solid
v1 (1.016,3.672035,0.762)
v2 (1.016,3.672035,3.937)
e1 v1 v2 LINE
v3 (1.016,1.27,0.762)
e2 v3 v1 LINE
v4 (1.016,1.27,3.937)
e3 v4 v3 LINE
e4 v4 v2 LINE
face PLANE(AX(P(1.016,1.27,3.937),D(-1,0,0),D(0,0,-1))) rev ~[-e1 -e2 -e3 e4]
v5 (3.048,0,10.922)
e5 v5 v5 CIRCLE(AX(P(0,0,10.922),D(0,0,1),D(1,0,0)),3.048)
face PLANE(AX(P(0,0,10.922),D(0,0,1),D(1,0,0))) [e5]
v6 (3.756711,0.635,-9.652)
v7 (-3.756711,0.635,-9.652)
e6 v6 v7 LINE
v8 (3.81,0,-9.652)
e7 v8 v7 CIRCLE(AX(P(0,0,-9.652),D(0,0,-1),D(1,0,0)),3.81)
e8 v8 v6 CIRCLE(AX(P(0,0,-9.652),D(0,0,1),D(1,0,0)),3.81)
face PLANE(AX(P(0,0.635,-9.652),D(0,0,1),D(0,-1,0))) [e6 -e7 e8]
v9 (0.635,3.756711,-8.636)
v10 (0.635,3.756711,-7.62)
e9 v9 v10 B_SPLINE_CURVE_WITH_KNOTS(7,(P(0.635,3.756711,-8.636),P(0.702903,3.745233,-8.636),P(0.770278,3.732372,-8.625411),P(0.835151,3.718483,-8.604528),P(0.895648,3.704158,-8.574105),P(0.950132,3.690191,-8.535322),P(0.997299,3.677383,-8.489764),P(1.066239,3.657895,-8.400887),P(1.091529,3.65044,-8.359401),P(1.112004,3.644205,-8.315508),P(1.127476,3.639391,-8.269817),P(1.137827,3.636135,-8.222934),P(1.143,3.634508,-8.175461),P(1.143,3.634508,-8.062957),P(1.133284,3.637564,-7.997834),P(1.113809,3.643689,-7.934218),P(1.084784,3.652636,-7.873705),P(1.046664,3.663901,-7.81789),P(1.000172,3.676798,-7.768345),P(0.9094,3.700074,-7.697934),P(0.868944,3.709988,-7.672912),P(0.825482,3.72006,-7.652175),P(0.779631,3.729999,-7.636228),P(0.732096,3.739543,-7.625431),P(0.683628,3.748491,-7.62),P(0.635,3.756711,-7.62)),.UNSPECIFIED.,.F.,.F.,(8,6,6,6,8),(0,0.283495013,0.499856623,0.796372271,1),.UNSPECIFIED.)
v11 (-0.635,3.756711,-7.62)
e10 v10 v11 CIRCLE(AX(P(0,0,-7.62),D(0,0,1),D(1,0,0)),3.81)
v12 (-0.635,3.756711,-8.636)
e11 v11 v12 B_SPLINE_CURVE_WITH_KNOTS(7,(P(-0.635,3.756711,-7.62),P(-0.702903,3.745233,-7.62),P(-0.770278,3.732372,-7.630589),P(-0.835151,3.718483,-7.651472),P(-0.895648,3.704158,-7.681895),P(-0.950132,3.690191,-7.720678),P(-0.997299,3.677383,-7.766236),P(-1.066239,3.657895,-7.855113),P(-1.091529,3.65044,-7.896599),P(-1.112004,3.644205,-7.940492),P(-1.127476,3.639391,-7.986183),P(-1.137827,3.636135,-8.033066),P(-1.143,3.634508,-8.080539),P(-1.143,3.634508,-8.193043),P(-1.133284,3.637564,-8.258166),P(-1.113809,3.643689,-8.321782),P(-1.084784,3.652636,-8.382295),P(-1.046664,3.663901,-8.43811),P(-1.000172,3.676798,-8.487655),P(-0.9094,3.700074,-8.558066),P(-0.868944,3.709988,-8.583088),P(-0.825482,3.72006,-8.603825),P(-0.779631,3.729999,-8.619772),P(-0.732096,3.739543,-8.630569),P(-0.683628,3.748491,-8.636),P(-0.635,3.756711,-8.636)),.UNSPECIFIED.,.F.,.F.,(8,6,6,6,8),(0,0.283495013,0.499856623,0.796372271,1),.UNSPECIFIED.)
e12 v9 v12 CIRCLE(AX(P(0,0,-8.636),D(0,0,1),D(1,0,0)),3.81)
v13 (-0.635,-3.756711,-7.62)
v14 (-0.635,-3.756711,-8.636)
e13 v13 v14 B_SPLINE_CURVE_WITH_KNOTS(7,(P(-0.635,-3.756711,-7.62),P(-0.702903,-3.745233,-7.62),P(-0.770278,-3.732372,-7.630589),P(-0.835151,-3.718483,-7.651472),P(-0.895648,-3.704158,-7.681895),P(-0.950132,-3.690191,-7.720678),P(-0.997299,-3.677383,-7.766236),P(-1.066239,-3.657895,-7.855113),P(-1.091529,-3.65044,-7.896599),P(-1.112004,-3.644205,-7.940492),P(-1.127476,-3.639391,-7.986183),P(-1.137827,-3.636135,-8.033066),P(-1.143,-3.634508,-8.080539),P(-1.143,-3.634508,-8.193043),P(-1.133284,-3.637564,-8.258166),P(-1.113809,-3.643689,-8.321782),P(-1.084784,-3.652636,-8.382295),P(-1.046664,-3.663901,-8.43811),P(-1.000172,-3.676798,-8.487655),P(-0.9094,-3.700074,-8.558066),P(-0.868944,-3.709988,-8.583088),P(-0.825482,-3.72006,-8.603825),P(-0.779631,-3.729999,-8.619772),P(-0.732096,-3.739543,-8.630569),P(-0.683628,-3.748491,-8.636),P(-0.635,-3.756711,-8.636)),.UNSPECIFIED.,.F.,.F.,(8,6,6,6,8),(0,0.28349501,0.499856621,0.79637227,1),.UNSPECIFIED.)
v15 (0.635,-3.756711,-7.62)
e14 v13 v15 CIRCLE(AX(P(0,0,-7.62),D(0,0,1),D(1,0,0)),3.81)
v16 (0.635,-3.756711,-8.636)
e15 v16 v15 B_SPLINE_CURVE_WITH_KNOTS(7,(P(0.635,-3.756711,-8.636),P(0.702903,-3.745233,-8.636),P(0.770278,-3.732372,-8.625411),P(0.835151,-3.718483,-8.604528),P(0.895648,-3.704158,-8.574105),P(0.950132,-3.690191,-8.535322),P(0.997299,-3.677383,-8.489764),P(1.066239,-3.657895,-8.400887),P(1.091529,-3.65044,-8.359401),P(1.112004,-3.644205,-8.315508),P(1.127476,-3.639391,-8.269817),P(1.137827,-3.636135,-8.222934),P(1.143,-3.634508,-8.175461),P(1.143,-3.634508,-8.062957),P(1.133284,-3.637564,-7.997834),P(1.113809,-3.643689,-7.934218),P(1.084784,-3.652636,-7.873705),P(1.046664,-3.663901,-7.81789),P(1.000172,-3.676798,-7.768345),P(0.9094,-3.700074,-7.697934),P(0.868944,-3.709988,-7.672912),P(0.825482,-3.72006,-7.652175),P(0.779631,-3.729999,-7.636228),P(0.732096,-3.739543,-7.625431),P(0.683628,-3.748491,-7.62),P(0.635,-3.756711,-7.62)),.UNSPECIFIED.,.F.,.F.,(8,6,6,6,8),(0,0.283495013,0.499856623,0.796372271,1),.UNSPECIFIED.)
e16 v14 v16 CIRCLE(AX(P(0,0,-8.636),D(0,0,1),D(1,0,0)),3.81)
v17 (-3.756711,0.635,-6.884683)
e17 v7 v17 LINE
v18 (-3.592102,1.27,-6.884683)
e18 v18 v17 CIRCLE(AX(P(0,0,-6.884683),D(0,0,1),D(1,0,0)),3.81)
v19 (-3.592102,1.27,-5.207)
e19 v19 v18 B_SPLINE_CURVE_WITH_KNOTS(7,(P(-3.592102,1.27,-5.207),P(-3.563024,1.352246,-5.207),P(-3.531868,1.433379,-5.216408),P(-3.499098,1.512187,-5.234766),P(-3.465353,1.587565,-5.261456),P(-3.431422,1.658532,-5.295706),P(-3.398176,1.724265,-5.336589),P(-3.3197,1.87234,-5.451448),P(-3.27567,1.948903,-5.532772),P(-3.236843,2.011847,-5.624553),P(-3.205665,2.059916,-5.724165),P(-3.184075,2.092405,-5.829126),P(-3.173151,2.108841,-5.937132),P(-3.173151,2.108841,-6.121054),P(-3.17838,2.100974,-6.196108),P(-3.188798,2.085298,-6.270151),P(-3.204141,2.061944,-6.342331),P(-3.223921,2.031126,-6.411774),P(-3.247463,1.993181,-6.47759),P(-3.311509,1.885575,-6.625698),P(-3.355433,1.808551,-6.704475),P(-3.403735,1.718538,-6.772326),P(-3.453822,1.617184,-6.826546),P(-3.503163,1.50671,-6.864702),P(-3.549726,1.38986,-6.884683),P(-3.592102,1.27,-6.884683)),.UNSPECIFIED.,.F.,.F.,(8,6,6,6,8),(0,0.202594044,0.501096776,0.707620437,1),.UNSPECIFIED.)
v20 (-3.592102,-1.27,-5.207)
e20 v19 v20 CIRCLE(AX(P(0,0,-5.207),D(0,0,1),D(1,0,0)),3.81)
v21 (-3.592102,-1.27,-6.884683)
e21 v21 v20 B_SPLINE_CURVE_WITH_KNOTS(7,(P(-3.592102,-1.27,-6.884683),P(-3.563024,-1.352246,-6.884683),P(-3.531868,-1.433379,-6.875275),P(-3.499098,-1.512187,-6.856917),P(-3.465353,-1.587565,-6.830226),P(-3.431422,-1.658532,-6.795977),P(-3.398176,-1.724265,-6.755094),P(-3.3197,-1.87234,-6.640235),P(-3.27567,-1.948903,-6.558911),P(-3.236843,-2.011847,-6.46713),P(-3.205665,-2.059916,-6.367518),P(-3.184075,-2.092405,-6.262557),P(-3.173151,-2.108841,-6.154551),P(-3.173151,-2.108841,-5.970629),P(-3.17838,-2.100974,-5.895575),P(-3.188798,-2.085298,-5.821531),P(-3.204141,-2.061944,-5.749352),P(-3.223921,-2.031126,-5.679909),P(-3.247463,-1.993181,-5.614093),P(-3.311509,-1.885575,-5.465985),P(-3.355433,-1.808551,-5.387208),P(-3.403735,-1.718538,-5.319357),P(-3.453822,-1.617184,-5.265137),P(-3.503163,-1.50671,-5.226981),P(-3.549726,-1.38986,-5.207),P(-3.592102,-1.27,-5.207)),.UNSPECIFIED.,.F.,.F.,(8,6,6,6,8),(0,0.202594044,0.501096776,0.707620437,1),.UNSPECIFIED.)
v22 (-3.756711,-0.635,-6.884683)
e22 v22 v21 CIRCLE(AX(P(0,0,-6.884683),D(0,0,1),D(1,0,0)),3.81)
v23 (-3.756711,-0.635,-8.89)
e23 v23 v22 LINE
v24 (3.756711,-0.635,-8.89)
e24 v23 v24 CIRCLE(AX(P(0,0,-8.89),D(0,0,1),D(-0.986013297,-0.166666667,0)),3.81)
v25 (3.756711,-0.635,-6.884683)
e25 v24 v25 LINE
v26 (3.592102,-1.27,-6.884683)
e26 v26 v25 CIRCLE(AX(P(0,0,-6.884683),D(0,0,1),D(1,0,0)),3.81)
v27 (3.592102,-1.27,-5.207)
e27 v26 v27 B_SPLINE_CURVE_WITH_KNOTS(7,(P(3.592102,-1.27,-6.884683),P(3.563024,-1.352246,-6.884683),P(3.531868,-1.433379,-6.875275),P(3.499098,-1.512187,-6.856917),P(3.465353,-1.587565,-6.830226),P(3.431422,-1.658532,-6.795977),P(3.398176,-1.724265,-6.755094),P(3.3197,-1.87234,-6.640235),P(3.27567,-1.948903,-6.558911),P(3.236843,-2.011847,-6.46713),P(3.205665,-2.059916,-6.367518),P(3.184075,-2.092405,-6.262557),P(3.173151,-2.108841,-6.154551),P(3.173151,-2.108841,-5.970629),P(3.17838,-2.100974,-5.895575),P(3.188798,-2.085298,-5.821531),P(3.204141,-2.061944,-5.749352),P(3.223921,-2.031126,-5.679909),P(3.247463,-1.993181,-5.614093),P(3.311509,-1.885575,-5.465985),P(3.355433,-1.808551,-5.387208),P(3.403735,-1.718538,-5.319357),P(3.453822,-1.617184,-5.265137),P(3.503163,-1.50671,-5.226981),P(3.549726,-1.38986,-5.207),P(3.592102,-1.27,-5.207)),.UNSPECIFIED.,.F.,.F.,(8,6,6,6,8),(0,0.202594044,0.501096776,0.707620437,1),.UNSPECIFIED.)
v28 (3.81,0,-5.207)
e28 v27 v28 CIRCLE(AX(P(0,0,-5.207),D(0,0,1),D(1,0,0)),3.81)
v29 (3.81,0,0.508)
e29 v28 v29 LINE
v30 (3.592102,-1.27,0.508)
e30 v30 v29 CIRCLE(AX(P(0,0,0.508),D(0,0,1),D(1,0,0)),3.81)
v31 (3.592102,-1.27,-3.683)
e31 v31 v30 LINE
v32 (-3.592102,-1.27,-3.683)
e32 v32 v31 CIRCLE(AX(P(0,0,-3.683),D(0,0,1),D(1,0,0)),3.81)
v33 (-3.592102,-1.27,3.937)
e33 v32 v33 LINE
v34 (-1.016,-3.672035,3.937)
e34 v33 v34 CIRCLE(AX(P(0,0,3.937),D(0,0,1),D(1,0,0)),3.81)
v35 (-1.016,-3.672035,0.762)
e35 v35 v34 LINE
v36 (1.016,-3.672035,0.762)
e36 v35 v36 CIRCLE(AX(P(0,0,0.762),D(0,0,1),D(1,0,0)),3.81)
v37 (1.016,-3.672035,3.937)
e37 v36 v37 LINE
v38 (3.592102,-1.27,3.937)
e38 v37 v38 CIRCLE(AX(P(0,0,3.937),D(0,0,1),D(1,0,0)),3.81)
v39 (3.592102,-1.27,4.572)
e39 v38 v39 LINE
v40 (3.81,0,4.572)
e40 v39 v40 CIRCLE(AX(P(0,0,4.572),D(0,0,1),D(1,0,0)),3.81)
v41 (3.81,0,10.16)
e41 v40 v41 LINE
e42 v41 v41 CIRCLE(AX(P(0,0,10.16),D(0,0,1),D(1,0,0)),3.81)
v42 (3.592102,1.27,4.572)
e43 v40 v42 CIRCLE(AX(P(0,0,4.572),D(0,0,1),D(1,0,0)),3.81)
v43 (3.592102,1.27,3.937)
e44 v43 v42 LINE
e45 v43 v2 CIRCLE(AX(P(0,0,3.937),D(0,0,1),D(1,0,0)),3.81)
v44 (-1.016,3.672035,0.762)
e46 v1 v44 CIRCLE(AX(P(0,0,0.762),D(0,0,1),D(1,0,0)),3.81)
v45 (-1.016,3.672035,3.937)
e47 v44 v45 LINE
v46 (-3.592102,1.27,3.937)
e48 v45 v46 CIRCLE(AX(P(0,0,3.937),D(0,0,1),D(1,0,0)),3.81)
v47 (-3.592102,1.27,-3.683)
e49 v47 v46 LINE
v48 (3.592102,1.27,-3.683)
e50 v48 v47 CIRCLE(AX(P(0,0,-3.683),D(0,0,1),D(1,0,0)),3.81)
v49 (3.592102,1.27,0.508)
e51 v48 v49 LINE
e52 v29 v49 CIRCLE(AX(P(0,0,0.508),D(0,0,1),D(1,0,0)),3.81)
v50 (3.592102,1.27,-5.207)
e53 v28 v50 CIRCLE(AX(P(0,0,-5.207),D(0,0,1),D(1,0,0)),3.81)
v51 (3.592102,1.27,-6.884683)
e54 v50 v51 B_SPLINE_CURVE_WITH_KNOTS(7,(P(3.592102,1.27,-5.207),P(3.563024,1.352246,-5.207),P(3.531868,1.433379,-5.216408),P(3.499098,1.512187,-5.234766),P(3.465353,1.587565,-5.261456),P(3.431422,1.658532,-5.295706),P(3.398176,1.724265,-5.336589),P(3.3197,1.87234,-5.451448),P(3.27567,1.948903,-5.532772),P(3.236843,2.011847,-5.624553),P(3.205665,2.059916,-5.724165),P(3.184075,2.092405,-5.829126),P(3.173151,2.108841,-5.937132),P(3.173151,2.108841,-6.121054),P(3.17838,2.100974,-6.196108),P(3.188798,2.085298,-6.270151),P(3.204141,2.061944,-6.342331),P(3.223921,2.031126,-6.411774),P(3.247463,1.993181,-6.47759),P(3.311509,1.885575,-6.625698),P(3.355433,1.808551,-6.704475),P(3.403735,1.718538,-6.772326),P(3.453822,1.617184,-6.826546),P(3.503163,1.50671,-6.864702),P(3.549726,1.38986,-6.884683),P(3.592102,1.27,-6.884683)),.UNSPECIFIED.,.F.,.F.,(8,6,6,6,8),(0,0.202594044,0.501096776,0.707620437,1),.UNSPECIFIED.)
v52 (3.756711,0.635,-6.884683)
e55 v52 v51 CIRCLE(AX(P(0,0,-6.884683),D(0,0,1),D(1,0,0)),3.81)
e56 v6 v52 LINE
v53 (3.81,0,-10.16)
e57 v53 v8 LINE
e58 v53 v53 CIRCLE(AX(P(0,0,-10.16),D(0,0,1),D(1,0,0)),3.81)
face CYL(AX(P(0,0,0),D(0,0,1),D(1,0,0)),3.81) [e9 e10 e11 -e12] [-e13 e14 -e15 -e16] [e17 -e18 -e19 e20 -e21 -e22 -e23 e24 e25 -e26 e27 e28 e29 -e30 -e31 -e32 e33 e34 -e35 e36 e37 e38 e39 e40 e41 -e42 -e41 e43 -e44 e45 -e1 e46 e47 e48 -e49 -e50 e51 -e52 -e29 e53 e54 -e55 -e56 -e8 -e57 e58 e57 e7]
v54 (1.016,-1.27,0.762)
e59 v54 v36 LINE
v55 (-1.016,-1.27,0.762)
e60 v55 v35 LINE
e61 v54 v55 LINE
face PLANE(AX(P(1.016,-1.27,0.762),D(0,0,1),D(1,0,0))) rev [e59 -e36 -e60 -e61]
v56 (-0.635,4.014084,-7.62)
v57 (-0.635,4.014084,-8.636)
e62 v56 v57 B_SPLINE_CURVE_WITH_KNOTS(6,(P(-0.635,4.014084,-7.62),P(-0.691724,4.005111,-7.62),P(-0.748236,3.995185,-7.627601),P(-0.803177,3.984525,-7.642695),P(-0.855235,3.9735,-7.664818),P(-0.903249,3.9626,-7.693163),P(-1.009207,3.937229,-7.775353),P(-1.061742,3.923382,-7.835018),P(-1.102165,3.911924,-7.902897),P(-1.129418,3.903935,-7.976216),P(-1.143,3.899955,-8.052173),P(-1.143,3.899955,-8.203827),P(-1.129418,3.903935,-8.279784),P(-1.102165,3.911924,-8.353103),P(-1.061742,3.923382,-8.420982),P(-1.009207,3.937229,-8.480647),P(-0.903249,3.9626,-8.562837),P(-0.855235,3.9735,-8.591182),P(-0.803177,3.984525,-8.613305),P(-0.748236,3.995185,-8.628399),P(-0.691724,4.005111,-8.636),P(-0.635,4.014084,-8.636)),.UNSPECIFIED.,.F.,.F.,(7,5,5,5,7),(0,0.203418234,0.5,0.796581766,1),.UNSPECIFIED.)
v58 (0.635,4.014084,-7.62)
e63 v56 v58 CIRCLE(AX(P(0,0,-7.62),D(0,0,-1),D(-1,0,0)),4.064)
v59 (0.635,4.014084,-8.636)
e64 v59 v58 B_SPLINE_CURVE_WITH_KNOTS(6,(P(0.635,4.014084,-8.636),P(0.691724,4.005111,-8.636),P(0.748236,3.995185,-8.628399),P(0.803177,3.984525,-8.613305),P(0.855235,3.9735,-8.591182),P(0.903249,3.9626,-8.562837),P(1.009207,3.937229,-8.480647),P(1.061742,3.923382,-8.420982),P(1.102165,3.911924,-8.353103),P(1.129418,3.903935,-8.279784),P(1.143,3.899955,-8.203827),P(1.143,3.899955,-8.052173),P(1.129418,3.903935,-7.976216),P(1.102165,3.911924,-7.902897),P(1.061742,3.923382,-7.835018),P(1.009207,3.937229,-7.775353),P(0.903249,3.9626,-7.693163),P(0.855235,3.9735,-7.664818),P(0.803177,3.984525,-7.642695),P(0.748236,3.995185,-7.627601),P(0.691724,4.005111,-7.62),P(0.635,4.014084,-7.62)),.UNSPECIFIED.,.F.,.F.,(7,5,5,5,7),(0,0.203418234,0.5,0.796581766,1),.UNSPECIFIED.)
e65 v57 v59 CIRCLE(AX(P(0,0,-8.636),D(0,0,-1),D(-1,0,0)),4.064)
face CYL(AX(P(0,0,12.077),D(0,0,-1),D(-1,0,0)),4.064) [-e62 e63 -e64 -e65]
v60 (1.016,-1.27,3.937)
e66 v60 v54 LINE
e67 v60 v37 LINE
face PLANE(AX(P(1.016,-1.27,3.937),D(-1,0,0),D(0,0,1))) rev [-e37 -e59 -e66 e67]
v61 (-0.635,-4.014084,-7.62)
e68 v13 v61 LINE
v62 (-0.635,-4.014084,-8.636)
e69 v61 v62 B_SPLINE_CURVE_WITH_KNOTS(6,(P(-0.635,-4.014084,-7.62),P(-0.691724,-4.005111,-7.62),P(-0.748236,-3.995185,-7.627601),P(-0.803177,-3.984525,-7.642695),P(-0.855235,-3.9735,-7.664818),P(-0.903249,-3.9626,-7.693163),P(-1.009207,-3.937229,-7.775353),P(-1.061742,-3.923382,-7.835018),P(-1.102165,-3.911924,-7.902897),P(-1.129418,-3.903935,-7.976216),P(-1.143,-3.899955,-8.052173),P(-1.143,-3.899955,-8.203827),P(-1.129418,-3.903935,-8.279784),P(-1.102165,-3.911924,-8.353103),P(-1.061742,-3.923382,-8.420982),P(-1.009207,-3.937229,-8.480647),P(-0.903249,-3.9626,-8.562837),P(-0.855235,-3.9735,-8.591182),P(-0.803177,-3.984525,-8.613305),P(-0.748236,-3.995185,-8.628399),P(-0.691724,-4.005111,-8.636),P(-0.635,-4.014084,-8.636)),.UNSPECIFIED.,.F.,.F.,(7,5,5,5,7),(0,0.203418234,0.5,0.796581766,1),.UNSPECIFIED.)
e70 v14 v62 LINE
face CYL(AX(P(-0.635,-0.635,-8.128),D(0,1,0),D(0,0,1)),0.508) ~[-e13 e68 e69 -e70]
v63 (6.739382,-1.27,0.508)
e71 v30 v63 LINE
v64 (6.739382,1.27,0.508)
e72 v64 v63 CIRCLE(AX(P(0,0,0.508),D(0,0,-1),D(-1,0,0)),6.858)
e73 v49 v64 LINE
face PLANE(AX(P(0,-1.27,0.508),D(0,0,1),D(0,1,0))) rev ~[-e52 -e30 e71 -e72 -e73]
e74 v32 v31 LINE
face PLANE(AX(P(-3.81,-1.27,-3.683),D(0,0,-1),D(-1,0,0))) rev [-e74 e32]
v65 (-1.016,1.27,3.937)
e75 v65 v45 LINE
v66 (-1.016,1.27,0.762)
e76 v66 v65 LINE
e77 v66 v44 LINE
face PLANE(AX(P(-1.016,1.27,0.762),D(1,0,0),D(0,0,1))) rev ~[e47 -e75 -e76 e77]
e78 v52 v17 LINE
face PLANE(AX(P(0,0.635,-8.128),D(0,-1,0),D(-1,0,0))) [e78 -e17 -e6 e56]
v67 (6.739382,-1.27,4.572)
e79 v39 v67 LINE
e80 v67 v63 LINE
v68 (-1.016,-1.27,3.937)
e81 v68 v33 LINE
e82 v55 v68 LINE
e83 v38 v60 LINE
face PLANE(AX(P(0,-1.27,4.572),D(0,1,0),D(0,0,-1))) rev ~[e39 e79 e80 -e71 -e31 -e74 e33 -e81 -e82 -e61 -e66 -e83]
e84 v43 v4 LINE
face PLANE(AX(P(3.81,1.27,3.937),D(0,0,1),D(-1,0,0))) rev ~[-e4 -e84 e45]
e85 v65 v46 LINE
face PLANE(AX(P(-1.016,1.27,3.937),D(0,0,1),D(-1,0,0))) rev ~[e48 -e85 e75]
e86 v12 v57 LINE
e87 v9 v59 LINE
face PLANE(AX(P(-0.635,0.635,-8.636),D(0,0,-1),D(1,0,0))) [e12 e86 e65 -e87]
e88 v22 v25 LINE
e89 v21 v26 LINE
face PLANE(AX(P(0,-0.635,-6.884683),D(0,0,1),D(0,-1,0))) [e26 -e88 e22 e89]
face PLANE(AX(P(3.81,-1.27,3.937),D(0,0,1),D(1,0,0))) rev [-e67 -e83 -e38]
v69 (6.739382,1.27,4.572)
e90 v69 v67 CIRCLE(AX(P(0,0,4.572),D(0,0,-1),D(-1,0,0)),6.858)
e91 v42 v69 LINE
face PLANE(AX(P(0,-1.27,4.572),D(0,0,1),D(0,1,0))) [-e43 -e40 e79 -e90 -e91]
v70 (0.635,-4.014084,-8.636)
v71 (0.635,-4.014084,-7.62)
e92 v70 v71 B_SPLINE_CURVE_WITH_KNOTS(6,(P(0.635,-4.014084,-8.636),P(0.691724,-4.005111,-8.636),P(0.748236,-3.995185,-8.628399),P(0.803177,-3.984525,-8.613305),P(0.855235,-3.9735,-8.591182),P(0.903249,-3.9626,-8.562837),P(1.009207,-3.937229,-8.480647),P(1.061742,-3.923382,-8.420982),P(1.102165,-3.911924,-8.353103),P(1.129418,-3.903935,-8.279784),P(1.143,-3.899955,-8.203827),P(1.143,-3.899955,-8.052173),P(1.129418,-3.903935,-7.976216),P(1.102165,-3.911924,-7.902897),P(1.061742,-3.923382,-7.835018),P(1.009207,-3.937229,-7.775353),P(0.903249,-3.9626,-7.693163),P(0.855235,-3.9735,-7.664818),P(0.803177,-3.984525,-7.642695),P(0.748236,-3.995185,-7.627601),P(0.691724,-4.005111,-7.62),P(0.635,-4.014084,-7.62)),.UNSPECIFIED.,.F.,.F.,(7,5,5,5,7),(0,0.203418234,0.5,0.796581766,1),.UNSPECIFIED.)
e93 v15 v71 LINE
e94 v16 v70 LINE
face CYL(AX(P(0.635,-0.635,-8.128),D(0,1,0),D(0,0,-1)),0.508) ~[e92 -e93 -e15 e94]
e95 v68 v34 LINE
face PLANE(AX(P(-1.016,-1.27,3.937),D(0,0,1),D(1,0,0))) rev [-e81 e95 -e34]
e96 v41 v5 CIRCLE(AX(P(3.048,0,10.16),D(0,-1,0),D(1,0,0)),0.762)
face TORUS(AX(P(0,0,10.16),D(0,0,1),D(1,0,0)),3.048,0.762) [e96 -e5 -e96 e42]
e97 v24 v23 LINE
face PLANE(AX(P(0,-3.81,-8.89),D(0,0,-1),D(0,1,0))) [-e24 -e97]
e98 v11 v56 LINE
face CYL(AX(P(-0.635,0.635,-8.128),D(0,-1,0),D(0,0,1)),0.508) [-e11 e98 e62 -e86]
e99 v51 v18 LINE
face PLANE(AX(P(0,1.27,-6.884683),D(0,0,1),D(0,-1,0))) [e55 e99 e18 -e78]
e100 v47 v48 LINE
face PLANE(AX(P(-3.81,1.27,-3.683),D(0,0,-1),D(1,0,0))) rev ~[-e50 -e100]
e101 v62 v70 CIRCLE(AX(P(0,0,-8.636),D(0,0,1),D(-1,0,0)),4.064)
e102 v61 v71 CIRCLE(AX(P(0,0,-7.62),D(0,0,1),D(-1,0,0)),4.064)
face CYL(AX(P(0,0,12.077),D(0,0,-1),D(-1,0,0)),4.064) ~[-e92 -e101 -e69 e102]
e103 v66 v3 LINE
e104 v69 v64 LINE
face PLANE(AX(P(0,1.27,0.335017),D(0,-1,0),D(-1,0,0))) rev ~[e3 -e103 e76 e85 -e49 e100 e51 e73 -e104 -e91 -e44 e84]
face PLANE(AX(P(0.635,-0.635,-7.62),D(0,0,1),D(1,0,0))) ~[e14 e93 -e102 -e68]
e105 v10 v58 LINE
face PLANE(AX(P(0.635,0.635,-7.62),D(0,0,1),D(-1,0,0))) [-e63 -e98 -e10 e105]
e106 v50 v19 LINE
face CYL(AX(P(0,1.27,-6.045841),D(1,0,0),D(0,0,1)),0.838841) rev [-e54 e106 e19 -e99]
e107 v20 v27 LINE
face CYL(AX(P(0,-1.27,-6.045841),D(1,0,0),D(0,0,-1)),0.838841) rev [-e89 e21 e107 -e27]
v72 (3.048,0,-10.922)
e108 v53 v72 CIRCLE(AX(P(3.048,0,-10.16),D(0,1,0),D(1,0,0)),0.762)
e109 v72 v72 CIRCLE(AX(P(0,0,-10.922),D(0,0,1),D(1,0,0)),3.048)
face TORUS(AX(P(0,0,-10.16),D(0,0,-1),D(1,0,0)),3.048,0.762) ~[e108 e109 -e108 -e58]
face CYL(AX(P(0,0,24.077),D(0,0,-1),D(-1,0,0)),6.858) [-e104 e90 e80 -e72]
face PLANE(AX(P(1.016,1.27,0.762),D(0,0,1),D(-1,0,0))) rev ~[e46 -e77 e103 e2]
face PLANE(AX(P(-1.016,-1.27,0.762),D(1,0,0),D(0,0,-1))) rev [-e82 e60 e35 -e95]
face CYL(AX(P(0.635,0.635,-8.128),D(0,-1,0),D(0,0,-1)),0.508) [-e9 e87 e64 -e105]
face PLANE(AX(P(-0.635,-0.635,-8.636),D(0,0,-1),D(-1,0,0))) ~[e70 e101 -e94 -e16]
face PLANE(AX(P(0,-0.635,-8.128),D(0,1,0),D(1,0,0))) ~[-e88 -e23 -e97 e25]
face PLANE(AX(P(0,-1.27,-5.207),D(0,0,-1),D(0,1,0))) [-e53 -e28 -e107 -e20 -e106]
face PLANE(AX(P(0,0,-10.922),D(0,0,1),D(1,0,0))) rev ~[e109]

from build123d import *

# Parameters (mm, degrees)
SKETCH1_R                = 3.81
BOSS_EXTRUDE1_DEPTH      = 10.922
CUT_EXTRUDE1_DEPTH       = 13.633787397
CUT_EXTRUDE2_DEPTH       = 10.922
BOSS_EXTRUDE2_REACH      = 14.179
BOSS_EXTRUDE2_END_RADIUS = 6.858
SKETCH4_W                = 4.064
SKETCH4_H                = 2.54
BOSS_EXTRUDE3_REACH      = 15.641
BOSS_EXTRUDE3_END_RADIUS = 4.064
FILLET1_R                = 0.762


with BuildPart() as part:
    # Sketch1 → Boss-Extrude1 (new, symmetric)
    with BuildSketch(Plane.XY):
        Circle(SKETCH1_R)
    extrude(amount=BOSS_EXTRUDE1_DEPTH, both=True)

    # Sketch2 → Cut-Extrude1 (cut, through all)
    with BuildSketch(Plane(origin=(0, 1.27, 0), x_dir=(1, 0, 0), z_dir=(0, 1, 0))):
        Polygon((-3.81, 3.683), (3.81, 3.683), (3.81, -3.937), (1.016, -3.937), (1.016, -0.762), (-1.016, -0.762), (-1.016, -3.937), (-3.81, -3.937), align=None)
    cut_extrude1 = extrude(amount=CUT_EXTRUDE1_DEPTH, mode=Mode.SUBTRACT)

    # Mirror1: Cut-Extrude1 across plane
    add(cut_extrude1.mirror(Plane.ZX), mode=Mode.SUBTRACT)

    # Sketch3 → Cut-Extrude2 (cut, symmetric)
    with BuildSketch(Plane(origin=(0, 0, 0), x_dir=(0, 0, -1), z_dir=(1, 0, 0))):
        with BuildLine():
            Line((5.207, -1.27), (5.207, 1.27))
            ThreePointArc((5.207, 1.27), (6.045841446, 2.108841446), (6.884682892, 1.27))
            Line((6.884682892, 1.27), (6.884682892, 0.635))
            Line((6.884682892, 0.635), (9.652, 0.635))
            Line((9.652, 0.635), (9.652, -3.81))
            Line((9.652, -3.81), (8.89, -3.81))
            Line((8.89, -3.81), (8.89, -0.635))
            Line((8.89, -0.635), (6.884682892, -0.635))
            Line((6.884682892, -0.635), (6.884682892, -1.27))
            ThreePointArc((6.884682892, -1.27), (6.045841446, -2.108841446), (5.207, -1.27))
        make_face()
    extrude(amount=CUT_EXTRUDE2_DEPTH, both=True, mode=Mode.SUBTRACT)

    # Boss-Extrude2: up to this cylinder (the profile starts inside it)
    boss_extrude2_end = Plane(origin=(0, 0, 2.54), z_dir=(0, 0, -1)) * Cylinder(BOSS_EXTRUDE2_END_RADIUS, 43.074, mode=Mode.PRIVATE)
    # Sketch4 → Boss-Extrude2 (add, up to the surface)
    with BuildSketch(Plane(origin=(0, 0, 0), x_dir=(0, 0, -1), z_dir=(1, 0, 0)), mode=Mode.PRIVATE) as boss_extrude2_sk1:
        with Locations((-2.54, 0)):
            Rectangle(SKETCH4_W, SKETCH4_H)
    boss_extrude2_tool1 = extrude(boss_extrude2_sk1.sketch, amount=BOSS_EXTRUDE2_REACH, mode=Mode.PRIVATE) & boss_extrude2_end
    add(boss_extrude2_tool1.solids().sort_by_distance((0, 0, 2.54))[0])

    # Boss-Extrude3: up to this cylinder (the profile starts inside it)
    boss_extrude3_end = Plane(origin=(0, 0, -8.128), z_dir=(0, 0, -1)) * Cylinder(BOSS_EXTRUDE3_END_RADIUS, 40.41, mode=Mode.PRIVATE)
    # Sketch5 → Boss-Extrude3 (add, up to the surface)
    with BuildSketch(Plane(origin=(0, 0.635, 0), x_dir=(1, 0, 0), z_dir=(0, 1, 0)), mode=Mode.PRIVATE) as boss_extrude3_sk1:
        with BuildLine():
            Line((-0.635, 8.636), (0.635, 8.636))
            ThreePointArc((0.635, 8.636), (1.143, 8.128), (0.635, 7.62))
            Line((0.635, 7.62), (-0.635, 7.62))
            ThreePointArc((-0.635, 7.62), (-1.143, 8.128), (-0.635, 8.636))
        make_face()
    boss_extrude3_tool1 = extrude(boss_extrude3_sk1.sketch, amount=BOSS_EXTRUDE3_REACH, mode=Mode.PRIVATE) & boss_extrude3_end
    boss_extrude3 = boss_extrude3_tool1.solids().sort_by_distance((0, 0.635, -8.128))[0]
    add(boss_extrude3)

    # Mirror2: Boss-Extrude3 across plane
    add(boss_extrude3.mirror(Plane.ZX))

    # Fillet1
    fillet1_edges = [part.edges().sort_by_distance(p)[0] for p in [
        (-3.81, 0, -10.922),
        (-3.81, 0, 10.922),
    ]]
    fillet(fillet1_edges, radius=FILLET1_R)


solid = part.part
